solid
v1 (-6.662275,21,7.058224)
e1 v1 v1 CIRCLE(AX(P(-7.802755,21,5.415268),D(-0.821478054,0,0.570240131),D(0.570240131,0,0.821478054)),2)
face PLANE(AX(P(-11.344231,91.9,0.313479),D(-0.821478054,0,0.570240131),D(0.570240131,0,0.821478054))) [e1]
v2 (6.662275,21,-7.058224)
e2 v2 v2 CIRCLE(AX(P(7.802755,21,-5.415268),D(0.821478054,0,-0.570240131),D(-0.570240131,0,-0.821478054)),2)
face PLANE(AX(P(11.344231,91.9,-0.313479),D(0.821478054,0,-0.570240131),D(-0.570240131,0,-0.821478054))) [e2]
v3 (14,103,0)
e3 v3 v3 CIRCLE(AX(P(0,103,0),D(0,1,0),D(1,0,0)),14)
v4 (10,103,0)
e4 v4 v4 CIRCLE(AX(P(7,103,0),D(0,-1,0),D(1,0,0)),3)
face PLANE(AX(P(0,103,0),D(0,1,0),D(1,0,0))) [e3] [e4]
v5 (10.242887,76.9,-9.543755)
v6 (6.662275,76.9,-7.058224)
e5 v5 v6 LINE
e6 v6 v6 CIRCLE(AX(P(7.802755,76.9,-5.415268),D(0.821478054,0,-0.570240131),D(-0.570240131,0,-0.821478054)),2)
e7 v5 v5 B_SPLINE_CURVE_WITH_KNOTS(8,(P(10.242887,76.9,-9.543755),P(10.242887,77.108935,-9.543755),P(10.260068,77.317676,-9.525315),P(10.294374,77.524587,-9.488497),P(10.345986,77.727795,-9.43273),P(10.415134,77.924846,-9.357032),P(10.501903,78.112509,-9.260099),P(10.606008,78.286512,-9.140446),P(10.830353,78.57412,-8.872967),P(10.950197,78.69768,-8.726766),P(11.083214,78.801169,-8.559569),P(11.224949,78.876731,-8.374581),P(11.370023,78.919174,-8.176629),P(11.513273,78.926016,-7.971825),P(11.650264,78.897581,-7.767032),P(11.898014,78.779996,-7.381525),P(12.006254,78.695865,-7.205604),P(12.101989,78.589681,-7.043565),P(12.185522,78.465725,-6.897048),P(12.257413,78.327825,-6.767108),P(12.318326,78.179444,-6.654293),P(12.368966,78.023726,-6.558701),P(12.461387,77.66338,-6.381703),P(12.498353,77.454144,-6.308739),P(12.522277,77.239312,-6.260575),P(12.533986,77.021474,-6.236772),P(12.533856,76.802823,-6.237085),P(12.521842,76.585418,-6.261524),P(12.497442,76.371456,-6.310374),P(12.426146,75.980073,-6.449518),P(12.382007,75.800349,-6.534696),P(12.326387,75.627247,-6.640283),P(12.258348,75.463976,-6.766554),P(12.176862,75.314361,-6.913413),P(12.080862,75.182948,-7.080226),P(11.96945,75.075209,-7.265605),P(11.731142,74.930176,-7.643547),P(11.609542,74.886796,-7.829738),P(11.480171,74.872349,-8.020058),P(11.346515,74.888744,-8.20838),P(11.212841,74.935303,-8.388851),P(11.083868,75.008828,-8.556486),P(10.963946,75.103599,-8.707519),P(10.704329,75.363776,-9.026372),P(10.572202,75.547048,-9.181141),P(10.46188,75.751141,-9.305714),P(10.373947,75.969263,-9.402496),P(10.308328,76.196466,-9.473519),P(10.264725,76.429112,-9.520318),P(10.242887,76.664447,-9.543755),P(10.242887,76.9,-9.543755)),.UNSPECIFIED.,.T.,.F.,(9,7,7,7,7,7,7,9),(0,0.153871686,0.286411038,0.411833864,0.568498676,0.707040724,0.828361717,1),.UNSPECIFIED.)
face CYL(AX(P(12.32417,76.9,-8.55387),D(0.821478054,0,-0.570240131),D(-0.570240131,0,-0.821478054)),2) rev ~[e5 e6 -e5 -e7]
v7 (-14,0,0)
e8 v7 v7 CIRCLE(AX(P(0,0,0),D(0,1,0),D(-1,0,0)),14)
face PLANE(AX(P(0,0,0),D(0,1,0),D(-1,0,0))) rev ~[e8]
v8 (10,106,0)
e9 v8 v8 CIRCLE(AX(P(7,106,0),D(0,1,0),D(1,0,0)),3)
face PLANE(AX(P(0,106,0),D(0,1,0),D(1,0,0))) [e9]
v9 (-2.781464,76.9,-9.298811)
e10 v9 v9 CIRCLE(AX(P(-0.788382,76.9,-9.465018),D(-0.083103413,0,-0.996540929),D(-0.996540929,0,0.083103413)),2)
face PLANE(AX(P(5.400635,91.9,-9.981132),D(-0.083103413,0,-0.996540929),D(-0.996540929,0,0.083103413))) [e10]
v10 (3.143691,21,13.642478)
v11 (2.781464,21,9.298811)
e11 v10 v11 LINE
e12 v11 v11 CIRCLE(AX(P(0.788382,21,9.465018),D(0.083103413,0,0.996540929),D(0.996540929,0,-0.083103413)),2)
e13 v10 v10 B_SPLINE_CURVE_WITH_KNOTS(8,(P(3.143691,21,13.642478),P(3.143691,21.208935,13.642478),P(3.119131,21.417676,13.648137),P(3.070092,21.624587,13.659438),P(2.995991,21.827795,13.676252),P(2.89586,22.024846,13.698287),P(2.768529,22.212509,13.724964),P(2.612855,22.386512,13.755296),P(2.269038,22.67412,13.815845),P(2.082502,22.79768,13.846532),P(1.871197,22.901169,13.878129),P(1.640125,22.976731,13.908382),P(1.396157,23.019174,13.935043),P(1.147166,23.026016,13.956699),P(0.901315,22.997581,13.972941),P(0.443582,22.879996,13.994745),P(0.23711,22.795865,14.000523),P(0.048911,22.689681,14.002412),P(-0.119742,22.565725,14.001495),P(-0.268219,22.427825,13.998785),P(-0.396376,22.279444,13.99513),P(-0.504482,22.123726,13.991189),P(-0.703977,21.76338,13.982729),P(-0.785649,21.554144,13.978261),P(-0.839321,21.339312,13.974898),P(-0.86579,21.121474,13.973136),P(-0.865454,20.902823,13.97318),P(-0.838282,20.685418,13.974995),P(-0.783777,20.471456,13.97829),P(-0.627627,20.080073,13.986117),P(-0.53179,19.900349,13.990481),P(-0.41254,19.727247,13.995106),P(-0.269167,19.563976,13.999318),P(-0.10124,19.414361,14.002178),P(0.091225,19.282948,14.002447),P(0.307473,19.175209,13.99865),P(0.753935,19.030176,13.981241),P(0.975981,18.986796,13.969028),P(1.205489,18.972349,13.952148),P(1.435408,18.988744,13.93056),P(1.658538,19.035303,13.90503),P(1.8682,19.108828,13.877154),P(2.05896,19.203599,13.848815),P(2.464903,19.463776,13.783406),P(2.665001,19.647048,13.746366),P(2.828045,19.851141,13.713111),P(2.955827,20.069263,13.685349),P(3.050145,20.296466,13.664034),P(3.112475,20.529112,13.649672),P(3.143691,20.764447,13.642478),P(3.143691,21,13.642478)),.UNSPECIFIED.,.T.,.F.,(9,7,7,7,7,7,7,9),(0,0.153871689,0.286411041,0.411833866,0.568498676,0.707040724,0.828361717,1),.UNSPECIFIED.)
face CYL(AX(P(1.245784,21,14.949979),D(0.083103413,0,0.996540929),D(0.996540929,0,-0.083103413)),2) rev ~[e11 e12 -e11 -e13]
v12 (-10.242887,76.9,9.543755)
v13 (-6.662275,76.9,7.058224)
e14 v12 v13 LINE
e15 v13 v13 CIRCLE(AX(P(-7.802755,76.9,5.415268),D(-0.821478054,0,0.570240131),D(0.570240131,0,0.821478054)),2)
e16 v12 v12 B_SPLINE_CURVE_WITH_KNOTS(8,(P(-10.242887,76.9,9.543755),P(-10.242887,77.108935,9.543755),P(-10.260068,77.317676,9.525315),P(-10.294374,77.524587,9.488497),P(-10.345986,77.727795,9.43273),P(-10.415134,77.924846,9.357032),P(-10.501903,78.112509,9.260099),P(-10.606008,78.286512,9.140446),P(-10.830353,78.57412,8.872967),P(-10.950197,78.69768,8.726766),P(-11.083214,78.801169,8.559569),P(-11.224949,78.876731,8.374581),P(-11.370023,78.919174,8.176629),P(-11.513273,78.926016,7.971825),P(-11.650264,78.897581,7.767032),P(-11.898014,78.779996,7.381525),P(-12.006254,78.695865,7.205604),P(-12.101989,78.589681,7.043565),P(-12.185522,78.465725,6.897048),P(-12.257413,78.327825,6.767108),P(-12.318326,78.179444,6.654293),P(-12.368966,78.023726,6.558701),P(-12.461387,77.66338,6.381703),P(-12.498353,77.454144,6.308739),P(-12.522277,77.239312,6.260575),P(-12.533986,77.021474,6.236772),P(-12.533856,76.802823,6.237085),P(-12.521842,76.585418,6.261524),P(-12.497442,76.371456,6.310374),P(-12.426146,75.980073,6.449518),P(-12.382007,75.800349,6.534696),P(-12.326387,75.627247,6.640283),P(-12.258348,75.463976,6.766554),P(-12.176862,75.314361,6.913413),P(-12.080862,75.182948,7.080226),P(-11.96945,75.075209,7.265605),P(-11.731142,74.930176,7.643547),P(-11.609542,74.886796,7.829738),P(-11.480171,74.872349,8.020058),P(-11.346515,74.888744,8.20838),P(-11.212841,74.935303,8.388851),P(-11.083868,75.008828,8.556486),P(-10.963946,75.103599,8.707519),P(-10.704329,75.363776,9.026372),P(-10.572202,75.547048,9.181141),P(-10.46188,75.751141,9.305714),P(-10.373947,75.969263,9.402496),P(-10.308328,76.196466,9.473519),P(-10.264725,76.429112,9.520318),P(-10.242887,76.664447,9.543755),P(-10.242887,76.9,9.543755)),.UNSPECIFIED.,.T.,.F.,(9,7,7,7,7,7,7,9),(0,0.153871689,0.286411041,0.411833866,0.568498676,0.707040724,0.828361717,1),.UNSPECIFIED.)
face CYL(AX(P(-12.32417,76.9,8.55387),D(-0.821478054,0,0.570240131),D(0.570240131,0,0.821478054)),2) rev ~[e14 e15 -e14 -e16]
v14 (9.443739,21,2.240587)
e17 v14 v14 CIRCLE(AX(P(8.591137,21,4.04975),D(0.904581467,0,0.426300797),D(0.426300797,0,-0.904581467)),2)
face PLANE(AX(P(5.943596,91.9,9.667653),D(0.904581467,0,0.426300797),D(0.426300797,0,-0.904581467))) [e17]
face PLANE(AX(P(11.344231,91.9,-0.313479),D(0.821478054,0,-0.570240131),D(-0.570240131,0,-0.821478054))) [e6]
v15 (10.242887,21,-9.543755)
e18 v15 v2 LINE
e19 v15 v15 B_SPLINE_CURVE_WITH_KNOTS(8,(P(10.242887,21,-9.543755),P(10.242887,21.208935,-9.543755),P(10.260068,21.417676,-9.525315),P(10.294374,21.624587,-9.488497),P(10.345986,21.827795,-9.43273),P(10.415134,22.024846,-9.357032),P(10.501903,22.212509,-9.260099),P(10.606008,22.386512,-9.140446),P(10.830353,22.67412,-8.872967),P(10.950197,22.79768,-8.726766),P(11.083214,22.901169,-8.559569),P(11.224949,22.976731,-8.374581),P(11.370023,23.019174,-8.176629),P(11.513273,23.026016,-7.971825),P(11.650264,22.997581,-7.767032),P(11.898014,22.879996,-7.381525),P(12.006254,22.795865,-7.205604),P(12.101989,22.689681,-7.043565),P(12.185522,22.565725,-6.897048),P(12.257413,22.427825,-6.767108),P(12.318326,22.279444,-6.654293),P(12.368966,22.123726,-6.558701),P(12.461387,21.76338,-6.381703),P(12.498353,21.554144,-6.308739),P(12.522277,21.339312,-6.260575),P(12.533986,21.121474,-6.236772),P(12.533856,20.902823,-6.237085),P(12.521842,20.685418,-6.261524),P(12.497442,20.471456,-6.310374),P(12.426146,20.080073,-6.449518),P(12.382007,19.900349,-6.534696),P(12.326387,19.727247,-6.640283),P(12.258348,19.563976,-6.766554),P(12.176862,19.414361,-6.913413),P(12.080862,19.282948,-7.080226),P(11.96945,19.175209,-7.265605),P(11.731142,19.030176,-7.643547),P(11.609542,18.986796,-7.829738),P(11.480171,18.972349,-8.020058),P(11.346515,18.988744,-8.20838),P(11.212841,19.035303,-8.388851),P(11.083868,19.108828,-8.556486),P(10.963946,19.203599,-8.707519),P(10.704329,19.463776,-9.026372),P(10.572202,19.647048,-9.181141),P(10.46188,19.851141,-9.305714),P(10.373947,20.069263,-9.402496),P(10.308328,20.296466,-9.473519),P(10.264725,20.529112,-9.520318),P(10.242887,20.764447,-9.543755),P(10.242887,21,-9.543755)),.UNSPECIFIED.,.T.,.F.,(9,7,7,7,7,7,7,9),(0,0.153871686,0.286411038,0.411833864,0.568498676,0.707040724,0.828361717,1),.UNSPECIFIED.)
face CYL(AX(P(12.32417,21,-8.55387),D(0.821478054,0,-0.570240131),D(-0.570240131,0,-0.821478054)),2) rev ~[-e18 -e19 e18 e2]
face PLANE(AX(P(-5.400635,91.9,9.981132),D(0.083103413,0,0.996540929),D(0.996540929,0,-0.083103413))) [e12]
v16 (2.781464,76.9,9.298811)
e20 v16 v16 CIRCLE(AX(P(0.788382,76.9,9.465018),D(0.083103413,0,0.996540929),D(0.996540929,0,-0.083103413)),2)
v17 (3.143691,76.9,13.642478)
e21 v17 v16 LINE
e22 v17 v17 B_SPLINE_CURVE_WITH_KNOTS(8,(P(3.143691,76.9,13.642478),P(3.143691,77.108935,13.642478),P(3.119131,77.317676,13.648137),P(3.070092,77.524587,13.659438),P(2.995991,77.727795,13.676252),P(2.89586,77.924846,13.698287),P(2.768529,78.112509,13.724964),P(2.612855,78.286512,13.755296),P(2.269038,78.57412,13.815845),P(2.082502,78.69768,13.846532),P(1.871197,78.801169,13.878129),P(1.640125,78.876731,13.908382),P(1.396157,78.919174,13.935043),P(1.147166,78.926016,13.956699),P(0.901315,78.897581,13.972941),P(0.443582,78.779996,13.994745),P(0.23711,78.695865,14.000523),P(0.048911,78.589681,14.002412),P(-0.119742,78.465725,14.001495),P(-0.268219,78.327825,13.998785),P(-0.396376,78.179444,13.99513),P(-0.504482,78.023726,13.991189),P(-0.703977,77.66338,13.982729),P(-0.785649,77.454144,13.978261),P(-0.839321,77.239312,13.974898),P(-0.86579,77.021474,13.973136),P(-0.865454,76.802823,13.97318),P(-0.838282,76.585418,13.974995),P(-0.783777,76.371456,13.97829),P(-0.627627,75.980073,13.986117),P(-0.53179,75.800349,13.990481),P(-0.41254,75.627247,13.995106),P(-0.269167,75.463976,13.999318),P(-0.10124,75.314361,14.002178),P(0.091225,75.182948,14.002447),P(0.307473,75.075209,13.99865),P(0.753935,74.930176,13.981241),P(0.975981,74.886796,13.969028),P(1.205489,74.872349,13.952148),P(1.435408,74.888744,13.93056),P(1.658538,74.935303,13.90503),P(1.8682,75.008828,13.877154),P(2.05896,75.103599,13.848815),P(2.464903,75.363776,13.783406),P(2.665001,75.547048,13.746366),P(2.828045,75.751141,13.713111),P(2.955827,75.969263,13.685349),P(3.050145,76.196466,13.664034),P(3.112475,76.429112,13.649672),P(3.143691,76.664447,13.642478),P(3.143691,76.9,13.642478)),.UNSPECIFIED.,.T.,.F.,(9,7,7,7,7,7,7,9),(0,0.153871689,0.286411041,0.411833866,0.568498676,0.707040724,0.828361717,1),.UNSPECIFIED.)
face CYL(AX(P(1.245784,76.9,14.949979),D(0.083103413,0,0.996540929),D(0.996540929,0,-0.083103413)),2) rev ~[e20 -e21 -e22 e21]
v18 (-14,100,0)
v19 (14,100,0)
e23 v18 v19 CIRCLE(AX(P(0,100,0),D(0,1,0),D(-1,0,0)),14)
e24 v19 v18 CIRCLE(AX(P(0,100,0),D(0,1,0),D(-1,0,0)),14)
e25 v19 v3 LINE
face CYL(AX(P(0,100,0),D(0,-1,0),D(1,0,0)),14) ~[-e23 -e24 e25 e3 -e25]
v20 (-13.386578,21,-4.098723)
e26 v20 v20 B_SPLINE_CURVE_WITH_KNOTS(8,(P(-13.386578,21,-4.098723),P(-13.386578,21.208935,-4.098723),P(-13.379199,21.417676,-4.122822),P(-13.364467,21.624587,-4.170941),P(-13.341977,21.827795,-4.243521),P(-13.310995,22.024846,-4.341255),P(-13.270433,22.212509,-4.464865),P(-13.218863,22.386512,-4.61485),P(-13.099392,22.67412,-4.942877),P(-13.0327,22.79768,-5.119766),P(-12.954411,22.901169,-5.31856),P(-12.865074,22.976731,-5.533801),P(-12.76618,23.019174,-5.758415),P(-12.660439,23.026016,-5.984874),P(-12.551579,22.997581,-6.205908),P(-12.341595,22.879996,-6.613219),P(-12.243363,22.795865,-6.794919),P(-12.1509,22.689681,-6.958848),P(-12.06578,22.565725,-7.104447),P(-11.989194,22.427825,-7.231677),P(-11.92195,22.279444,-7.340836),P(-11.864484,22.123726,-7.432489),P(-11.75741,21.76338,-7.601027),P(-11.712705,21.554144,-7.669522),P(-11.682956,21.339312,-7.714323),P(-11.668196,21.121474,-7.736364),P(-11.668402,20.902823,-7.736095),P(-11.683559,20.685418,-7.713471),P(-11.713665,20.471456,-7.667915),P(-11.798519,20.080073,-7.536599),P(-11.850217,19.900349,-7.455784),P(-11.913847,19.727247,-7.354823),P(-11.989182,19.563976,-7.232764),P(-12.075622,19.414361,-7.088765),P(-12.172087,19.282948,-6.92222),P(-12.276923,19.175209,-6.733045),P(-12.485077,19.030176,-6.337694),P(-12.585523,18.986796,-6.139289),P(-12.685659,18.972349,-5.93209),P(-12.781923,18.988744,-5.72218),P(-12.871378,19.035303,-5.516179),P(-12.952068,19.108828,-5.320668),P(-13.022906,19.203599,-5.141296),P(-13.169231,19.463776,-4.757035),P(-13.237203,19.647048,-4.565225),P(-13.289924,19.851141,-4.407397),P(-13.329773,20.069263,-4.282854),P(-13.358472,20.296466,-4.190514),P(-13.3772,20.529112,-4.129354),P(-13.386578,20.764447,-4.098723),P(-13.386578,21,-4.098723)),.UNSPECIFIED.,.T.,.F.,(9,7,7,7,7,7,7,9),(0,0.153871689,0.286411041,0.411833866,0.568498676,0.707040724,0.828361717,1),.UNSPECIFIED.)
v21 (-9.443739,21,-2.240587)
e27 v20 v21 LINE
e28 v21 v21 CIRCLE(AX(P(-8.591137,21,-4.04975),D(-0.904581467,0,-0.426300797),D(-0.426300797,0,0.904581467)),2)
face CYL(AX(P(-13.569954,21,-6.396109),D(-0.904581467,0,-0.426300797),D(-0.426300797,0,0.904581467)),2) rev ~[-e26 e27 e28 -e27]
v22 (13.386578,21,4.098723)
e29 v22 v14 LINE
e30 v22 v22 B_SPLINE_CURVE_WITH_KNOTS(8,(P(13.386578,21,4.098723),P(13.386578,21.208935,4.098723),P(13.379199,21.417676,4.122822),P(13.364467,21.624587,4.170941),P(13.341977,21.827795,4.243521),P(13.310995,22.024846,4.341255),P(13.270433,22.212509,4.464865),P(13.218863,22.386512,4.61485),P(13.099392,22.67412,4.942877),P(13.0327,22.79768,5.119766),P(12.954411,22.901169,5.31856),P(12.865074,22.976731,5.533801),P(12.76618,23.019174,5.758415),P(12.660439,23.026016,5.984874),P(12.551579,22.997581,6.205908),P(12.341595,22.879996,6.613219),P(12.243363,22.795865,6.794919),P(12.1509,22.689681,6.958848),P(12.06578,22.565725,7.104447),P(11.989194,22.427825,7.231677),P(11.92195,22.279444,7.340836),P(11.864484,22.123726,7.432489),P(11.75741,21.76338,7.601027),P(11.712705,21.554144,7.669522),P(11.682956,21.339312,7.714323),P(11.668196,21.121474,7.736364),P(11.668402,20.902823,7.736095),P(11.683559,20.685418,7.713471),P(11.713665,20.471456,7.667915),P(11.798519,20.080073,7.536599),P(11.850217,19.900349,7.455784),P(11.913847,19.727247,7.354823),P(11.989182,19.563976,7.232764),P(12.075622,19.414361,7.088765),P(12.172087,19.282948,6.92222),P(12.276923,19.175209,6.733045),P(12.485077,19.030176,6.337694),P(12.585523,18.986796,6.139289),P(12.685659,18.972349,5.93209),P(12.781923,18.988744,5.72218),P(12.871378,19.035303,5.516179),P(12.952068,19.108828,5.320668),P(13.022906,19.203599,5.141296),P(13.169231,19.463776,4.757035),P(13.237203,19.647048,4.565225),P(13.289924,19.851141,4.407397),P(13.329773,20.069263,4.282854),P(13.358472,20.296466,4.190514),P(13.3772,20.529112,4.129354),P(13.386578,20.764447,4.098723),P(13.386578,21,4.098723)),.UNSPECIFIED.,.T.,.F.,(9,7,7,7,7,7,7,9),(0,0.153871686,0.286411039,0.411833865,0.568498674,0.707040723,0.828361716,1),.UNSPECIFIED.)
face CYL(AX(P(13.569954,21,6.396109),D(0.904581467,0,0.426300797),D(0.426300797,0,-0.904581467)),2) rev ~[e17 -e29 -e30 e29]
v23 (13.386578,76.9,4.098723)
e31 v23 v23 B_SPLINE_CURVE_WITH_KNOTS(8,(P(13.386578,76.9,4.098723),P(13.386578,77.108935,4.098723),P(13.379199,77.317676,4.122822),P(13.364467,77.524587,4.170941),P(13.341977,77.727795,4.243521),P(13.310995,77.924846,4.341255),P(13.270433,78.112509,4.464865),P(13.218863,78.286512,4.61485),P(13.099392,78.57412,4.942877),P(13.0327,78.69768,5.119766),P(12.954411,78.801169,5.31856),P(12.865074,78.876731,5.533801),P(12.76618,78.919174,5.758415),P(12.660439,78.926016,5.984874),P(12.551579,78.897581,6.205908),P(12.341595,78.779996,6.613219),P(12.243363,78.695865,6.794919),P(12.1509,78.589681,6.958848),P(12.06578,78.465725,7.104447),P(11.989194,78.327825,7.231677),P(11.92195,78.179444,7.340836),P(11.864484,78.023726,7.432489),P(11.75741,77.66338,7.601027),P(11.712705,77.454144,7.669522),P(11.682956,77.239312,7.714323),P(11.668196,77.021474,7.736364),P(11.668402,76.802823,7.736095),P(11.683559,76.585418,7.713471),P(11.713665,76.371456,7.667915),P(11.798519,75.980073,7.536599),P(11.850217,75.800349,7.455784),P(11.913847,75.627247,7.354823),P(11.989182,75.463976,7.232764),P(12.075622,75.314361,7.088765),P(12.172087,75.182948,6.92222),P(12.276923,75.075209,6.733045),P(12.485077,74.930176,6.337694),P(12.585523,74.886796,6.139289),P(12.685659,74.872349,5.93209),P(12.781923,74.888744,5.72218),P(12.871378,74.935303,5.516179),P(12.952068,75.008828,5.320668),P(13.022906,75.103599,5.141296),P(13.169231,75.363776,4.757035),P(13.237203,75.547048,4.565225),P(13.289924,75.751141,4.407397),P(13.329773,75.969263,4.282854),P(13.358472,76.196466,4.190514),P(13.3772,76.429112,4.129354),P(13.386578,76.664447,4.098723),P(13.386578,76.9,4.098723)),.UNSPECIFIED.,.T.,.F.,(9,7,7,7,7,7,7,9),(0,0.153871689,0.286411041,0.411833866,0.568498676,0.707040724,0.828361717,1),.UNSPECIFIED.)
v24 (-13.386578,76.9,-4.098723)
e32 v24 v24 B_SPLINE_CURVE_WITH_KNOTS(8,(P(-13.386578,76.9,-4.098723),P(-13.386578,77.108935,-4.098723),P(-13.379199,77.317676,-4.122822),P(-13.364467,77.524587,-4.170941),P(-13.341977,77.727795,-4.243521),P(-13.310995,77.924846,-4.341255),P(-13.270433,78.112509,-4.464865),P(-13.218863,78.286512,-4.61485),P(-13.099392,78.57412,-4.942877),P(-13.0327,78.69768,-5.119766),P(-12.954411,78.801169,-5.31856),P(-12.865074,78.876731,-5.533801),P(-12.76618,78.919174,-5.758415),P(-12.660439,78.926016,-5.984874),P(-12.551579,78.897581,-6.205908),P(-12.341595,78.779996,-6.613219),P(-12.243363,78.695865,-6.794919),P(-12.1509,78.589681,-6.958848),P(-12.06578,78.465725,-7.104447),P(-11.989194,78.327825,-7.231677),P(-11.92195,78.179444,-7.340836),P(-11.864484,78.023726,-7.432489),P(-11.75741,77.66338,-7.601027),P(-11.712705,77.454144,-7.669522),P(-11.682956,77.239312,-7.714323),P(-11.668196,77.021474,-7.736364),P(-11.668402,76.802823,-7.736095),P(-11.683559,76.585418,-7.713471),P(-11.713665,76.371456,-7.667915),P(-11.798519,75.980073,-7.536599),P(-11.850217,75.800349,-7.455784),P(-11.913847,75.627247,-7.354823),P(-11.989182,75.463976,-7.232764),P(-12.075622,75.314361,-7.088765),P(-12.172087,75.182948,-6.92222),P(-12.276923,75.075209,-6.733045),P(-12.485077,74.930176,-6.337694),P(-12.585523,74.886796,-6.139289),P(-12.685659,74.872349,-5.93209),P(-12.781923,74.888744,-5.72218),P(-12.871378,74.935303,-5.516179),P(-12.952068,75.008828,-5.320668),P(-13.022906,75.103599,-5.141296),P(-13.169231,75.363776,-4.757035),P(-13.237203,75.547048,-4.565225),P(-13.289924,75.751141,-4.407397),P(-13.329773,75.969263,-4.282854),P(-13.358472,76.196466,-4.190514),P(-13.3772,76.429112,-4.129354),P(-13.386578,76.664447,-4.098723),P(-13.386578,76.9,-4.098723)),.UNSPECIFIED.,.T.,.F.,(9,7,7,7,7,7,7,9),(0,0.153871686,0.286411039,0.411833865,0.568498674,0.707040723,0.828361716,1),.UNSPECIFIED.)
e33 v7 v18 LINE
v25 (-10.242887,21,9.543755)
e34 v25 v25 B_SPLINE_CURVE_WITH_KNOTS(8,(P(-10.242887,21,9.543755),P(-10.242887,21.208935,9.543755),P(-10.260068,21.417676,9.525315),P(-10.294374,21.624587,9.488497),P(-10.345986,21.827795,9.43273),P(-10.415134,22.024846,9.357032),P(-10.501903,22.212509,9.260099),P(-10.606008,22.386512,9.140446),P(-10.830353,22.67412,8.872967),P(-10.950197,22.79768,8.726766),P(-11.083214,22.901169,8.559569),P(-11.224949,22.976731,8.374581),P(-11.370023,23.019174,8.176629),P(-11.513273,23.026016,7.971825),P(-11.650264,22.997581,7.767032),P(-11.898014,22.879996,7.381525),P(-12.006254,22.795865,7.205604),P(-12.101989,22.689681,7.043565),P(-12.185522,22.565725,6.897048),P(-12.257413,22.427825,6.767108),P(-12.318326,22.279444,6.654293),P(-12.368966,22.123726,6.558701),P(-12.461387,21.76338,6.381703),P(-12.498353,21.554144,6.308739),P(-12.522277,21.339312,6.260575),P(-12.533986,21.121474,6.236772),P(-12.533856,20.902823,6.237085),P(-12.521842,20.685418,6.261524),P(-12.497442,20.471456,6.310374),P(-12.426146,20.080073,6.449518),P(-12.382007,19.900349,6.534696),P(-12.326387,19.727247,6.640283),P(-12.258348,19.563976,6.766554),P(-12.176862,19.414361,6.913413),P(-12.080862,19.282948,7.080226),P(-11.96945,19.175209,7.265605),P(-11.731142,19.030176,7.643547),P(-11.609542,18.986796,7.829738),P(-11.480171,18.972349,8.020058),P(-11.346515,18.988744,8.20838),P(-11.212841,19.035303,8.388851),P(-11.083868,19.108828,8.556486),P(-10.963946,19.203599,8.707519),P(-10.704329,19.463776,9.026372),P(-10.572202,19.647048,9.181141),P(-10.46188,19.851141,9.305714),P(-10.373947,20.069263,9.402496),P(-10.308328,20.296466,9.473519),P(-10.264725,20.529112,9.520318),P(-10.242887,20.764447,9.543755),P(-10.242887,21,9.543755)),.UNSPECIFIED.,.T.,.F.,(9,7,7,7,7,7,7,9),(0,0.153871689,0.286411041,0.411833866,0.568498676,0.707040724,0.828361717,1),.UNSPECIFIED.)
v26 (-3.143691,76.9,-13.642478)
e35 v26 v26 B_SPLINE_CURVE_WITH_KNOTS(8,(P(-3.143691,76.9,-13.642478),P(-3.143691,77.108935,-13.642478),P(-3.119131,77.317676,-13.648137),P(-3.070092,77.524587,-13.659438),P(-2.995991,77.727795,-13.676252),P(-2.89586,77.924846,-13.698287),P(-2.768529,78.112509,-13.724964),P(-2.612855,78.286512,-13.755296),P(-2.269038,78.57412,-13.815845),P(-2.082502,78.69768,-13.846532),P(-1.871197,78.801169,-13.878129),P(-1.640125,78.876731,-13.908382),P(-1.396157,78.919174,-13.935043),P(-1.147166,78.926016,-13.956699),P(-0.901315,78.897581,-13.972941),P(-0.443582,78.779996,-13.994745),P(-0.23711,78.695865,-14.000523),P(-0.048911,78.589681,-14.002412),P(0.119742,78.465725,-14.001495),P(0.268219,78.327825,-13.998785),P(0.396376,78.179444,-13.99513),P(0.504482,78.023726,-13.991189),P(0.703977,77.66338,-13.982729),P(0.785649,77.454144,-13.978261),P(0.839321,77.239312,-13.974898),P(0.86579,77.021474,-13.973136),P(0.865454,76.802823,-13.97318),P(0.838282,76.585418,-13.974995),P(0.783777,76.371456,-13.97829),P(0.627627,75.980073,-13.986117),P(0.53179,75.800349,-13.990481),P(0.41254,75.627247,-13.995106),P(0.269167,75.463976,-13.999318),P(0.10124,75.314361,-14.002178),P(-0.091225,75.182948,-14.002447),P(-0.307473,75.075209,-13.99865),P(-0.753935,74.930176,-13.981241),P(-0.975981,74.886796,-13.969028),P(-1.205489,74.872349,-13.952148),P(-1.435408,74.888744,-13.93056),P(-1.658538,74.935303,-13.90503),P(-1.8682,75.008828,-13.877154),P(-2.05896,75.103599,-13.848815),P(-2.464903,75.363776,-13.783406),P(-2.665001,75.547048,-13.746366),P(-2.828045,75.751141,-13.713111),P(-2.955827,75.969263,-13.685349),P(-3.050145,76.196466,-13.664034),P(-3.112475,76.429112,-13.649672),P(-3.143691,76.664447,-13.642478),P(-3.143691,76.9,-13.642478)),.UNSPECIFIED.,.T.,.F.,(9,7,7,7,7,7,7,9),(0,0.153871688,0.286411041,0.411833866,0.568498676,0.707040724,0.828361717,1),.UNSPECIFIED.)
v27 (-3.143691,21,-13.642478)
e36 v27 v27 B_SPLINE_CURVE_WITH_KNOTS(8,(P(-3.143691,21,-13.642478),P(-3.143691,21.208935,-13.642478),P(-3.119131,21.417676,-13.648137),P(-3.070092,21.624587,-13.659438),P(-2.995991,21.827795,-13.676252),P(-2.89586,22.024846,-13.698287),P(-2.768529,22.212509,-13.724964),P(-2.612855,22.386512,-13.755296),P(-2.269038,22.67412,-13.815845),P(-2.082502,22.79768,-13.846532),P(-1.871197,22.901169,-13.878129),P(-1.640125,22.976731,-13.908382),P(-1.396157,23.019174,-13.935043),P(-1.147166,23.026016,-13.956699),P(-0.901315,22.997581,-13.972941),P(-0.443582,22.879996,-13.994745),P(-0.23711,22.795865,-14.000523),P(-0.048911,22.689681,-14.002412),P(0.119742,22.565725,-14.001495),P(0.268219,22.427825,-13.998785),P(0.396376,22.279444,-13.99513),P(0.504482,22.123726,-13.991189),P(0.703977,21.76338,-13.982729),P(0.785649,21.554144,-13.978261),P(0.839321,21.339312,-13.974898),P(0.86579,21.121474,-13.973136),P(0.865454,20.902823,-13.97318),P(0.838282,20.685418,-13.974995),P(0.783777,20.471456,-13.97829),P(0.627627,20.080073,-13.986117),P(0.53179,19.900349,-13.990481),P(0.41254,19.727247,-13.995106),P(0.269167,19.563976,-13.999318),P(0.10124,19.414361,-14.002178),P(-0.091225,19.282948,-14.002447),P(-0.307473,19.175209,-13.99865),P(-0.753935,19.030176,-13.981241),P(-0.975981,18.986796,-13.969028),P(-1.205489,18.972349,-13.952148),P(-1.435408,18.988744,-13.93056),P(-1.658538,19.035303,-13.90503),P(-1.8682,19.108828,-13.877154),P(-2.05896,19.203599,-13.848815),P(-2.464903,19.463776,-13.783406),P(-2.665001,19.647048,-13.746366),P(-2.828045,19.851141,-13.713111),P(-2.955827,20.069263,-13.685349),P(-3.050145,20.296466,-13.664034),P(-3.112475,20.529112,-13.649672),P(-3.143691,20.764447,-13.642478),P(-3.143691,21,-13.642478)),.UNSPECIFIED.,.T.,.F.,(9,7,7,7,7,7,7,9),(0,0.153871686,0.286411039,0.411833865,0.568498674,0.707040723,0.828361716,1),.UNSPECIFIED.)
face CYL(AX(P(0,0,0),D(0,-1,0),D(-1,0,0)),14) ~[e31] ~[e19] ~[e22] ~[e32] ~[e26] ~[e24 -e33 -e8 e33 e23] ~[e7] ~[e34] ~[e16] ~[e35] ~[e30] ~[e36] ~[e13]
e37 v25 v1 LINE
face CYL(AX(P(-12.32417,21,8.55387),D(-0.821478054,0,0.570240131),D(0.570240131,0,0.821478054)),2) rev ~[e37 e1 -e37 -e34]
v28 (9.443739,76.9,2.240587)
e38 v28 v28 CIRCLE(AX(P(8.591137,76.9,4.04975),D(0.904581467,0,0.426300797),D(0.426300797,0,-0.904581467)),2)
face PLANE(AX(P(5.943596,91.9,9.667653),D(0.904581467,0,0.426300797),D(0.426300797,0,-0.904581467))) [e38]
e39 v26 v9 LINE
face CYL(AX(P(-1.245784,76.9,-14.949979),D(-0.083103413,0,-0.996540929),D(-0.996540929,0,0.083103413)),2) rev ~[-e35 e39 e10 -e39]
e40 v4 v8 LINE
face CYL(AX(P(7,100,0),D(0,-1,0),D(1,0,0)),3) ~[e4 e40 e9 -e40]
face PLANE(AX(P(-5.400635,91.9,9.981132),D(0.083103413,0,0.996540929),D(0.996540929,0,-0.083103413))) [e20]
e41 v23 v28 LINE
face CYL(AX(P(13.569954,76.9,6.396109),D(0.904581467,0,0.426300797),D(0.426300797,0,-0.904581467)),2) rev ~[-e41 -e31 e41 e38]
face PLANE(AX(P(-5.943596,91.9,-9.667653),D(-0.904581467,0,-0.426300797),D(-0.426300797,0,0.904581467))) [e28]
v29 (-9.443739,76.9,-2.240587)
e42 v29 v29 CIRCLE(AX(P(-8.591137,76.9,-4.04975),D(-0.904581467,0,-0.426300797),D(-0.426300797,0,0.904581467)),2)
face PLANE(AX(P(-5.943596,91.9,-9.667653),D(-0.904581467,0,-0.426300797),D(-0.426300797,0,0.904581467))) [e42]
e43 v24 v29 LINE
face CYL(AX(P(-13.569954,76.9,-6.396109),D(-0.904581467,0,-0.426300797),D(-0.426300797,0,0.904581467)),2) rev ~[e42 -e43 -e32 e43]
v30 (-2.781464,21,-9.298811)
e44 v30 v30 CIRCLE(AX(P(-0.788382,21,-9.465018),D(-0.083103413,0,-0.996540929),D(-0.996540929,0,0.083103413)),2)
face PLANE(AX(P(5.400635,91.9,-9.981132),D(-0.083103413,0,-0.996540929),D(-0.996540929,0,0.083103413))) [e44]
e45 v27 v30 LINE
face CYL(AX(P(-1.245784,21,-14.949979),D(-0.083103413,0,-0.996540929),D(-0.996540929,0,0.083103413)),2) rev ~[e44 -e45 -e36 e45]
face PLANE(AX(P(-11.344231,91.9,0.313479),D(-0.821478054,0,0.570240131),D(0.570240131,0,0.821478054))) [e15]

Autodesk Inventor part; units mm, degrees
ref_plane "YZ Plane" through (0, 0, 0) normal (1, 0, 0) x (0, 1, 0)
sketch "Sketch1" plane through (0, 0, 0) normal (0, 1, 0) x (-1, 0, 0)
  circle A0 centre (0, 0) radius 14
  dimension "d0" = 28
extrude "Extrusion1" add sketch "Sketch1" along normal blind 100
ref_plane "Work Plane1" through (0, 91.9, 0) normal (0, 1, 0) x (1, 0, 0)
sketch "Sketch2" plane through (0, 91.9, 0) normal (0, 1, 0) x (1, 0, 0)
  arc A0 (-4.9212, -15.749) -> (7.4582, -14.7182) centre (0, 0) ccw
  line L0 (-4.9212, -15.749) -> (7.4582, -14.7182)
  line L1 (3.8609, -16.2352) -> (3.7603, -15.0261)
  line L2 (1.2685, -15.2336) -> (-1.2229, -15.4411)
  line L3 (-1.1222, -16.6505) -> (-1.2229, -15.4411)
  line L4 (1.7436, -20.9268) -> (4.2347, -20.7192)
  line L5 (4.2347, -20.7192) -> (3.8609, -16.2352)
  line L6 (-1.1222, -16.6505) -> (-0.7484, -21.1346)
  line L7 (-0.7484, -21.1346) -> (1.7436, -20.9268)
  line L8 (8.9092, -10.799) -> (11.1788, -12.1357)
  arc A1 (11.1788, -12.1357) -> (16.4755, -0.8993) centre (0, 0.0004) ccw
  line L9 (11.1788, -12.1357) -> (16.4755, -0.8993)
  line L10 (11.1788, -12.1357) -> (12.7611, -8.7789)
  line L11 (12.7611, -8.7789) -> (17.9297, -11.2153)
  line L12 (17.9297, -11.2153) -> (20.0617, -6.6927)
  line L13 (20.0617, -6.6927) -> (14.893, -4.2562)
  arc A2 (16.0997, 3.6126) -> (9.0172, 13.8181) centre (0, 0) ccw
  line L14 (16.0997, 3.6126) -> (9.0172, 13.8181)
  line L15 (16.0997, 3.6126) -> (13.9839, 6.6614)
  line L16 (13.9839, 6.6614) -> (18.6782, 9.9192)
  line L17 (18.6782, 9.9192) -> (15.8275, 14.0269)
  line L18 (15.8275, 14.0269) -> (11.1332, 10.7691)
  arc A3 (4.9196, 15.7499) -> (-7.4587, 14.7181) centre (0.0003, 0.0003) ccw
  line L19 (4.9196, 15.7499) -> (-7.4587, 14.7181)
  line L20 (4.9196, 15.7499) -> (1.2214, 15.4417)
  line L21 (1.2214, 15.4417) -> (0.7467, 21.1359)
  line L22 (0.7467, 21.1359) -> (-4.236, 20.7206)
  line L23 (-4.236, 20.7206) -> (-3.7613, 15.0263)
  arc A4 (-11.1784, 12.1373) -> (-16.4754, 0.901) centre (0, 0.0009) ccw
  line L24 (-14, 0) -> (-16.4754, 0.901)
  line L25 (-11.1784, 12.1373) -> (-16.4754, 0.901)
  line L26 (-11.1784, 12.1373) -> (-12.7608, 8.7805)
  line L27 (-12.7608, 8.7805) -> (-17.9293, 11.2171)
  line L28 (-17.9293, 11.2171) -> (-20.0613, 6.6944)
  line L29 (-20.0613, 6.6944) -> (-14.8929, 4.2579)
  arc A5 (-16.0997, -3.6126) -> (-9.0172, -13.8181) centre (0, 0) ccw
  line L30 (-9.0172, -13.8181) -> (-16.0997, -3.6126)
  line L31 (-16.0997, -3.6126) -> (-13.9839, -6.6614)
  line L32 (-13.9839, -6.6614) -> (-18.6782, -9.9192)
  line L33 (-18.6782, -9.9192) -> (-15.8275, -14.0269)
  line L34 (-15.8275, -14.0269) -> (-11.1332, -10.7691)
  line L35 (11.1788, -12.1357) -> (-16.4754, 0.901)
  line L36 (16.4755, -0.8993) -> (-11.1784, 12.1373)
  line L37 (-9.0172, -13.8181) -> (16.0997, 3.6126)
  line L38 (-16.0997, -3.6126) -> (9.0172, 13.8181)
  line L39 (-4.9212, -15.749) -> (-7.4587, 14.7181)
  line L40 (7.4582, -14.7182) -> (4.9196, 15.7499)
  line L41 (5.0265, 14.4675) -> (-7.3518, 13.4357)
  dimension "d4" = 2.5
  dimension "d5" = 3.711
  dimension "d6" = 5.714
  dimension "d7" = 5
  dimension "d8" = 3.711
  dimension "d9" = 5.714
  dimension "d10" = 5
  dimension "d11" = 3.711
  dimension "d12" = 5.714
  dimension "d13" = 5
  dimension "d14" = 3.711
  dimension "d15" = 5.714
  dimension "d16" = 5
  dimension "d17" = 3.711
  dimension "d18" = 5.714
  dimension "d19" = 5
  dimension "d20" = 5.258
  dimension "d21" = 0.001
  dimension "d22" = 5.0004
  dimension "d23" = 5.0004
  dimension "d24" = 36.2862
  dimension "d25" = 12.3632
ref_plane "Work Plane2" through (5.0265, 91.9, -14.4675) normal (-0.0831, 0, -0.9965) x (-0.9965, 0, 0.0831)
sketch "Sketch3" plane through (5.0265, 91.9, -14.4675) normal (-0.0831, 0, -0.9965) x (-0.9965, 0, 0.0831)
  line L0 (0, 0) -> (12.421, 0)
  line L1 (20.2109, -91.9) -> (-7.7891, -91.9) projected
  line L2 (0, -91.9) -> (12.421, -91.9)
  line L3 (12.421, 0) -> (12.421, -91.9) construction
  line L4 (6.2105, 0) -> (6.2105, -15) construction
  circle A0 centre (6.2105, -15) radius 2
  line L5 (6.2105, -91.9) -> (6.2105, -76.9) construction
  circle A1 centre (6.2105, -76.9) radius 2
  point P0 (6.2109, -91.9)
  dimension "d27" = 12.421
  dimension "d28" = 15
  dimension "d29" = 4
  dimension "d30" = 15
  dimension "d31" = 4
ref_plane "Work Plane3" through (4.9434, 91.9, -15.4641) normal (-0.0831, 0, -0.9965) x (-0.9965, 0, 0.0831)
sketch "Sketch4" plane through (4.9434, 91.9, -15.4641) normal (-0.0831, 0, -0.9965) x (-0.9965, 0, 0.0831)
  line L0 (0, 0) -> (12.421, 0)
  line L1 (16.664, -85.9) -> (-11.336, -85.9)
  line L2 (-3.5469, -85.9) -> (12.421, -85.9)
  line L3 (12.421, 0) -> (12.421, -85.9) construction
  line L4 (6.2105, 0) -> (6.2105, -15) construction
  circle A0 centre (6.2105, -15) radius 2
  line L5 (6.2105, -85.9) -> (6.2105, -70.9) construction
  circle A1 centre (6.2105, -70.9) radius 2
  line L6 (6.2105, -76.9) -> (6.2105, -70.9) construction
  point P0 (6.2109, -91.9)
  point P1 (6.2109, -91.9)
  dimension "d33" = 12.421
  dimension "d34" = 15
  dimension "d35" = 4
  dimension "d36" = 15
  dimension "d37" = 4
  dimension "d43" = 6
extrude "Extrusion2" cut sketch "Sketch4" against normal blind 5.5
pattern_circular "Circular Pattern1" count 6 over 360 about axis through (0, -10, 0) along (0, 1, 0) of "Extrusion2"
sketch "Sketch5" plane through (0, 100, 0) normal (0, 1, 0) x (1, 0, 0)
  line L0 (0, 0) -> (14, 0) construction
  circle A0 centre (0, 0) radius 14 construction
  line L1 (0, 0) -> (7, 0) construction
  circle A1 centre (7, 0) radius 3
  dimension "d44" = 6
extrude "Extrusion3" add sketch "Sketch5" along normal blind 6
sketch "Sketch6" plane through (0, 100, 0) normal (0, 1, 0) x (1, 0, 0)
  circle A0 centre (0, 0) radius 14
extrude "Extrusion4" add sketch "Sketch6" along normal blind 3
properties part number "Grip Base"
